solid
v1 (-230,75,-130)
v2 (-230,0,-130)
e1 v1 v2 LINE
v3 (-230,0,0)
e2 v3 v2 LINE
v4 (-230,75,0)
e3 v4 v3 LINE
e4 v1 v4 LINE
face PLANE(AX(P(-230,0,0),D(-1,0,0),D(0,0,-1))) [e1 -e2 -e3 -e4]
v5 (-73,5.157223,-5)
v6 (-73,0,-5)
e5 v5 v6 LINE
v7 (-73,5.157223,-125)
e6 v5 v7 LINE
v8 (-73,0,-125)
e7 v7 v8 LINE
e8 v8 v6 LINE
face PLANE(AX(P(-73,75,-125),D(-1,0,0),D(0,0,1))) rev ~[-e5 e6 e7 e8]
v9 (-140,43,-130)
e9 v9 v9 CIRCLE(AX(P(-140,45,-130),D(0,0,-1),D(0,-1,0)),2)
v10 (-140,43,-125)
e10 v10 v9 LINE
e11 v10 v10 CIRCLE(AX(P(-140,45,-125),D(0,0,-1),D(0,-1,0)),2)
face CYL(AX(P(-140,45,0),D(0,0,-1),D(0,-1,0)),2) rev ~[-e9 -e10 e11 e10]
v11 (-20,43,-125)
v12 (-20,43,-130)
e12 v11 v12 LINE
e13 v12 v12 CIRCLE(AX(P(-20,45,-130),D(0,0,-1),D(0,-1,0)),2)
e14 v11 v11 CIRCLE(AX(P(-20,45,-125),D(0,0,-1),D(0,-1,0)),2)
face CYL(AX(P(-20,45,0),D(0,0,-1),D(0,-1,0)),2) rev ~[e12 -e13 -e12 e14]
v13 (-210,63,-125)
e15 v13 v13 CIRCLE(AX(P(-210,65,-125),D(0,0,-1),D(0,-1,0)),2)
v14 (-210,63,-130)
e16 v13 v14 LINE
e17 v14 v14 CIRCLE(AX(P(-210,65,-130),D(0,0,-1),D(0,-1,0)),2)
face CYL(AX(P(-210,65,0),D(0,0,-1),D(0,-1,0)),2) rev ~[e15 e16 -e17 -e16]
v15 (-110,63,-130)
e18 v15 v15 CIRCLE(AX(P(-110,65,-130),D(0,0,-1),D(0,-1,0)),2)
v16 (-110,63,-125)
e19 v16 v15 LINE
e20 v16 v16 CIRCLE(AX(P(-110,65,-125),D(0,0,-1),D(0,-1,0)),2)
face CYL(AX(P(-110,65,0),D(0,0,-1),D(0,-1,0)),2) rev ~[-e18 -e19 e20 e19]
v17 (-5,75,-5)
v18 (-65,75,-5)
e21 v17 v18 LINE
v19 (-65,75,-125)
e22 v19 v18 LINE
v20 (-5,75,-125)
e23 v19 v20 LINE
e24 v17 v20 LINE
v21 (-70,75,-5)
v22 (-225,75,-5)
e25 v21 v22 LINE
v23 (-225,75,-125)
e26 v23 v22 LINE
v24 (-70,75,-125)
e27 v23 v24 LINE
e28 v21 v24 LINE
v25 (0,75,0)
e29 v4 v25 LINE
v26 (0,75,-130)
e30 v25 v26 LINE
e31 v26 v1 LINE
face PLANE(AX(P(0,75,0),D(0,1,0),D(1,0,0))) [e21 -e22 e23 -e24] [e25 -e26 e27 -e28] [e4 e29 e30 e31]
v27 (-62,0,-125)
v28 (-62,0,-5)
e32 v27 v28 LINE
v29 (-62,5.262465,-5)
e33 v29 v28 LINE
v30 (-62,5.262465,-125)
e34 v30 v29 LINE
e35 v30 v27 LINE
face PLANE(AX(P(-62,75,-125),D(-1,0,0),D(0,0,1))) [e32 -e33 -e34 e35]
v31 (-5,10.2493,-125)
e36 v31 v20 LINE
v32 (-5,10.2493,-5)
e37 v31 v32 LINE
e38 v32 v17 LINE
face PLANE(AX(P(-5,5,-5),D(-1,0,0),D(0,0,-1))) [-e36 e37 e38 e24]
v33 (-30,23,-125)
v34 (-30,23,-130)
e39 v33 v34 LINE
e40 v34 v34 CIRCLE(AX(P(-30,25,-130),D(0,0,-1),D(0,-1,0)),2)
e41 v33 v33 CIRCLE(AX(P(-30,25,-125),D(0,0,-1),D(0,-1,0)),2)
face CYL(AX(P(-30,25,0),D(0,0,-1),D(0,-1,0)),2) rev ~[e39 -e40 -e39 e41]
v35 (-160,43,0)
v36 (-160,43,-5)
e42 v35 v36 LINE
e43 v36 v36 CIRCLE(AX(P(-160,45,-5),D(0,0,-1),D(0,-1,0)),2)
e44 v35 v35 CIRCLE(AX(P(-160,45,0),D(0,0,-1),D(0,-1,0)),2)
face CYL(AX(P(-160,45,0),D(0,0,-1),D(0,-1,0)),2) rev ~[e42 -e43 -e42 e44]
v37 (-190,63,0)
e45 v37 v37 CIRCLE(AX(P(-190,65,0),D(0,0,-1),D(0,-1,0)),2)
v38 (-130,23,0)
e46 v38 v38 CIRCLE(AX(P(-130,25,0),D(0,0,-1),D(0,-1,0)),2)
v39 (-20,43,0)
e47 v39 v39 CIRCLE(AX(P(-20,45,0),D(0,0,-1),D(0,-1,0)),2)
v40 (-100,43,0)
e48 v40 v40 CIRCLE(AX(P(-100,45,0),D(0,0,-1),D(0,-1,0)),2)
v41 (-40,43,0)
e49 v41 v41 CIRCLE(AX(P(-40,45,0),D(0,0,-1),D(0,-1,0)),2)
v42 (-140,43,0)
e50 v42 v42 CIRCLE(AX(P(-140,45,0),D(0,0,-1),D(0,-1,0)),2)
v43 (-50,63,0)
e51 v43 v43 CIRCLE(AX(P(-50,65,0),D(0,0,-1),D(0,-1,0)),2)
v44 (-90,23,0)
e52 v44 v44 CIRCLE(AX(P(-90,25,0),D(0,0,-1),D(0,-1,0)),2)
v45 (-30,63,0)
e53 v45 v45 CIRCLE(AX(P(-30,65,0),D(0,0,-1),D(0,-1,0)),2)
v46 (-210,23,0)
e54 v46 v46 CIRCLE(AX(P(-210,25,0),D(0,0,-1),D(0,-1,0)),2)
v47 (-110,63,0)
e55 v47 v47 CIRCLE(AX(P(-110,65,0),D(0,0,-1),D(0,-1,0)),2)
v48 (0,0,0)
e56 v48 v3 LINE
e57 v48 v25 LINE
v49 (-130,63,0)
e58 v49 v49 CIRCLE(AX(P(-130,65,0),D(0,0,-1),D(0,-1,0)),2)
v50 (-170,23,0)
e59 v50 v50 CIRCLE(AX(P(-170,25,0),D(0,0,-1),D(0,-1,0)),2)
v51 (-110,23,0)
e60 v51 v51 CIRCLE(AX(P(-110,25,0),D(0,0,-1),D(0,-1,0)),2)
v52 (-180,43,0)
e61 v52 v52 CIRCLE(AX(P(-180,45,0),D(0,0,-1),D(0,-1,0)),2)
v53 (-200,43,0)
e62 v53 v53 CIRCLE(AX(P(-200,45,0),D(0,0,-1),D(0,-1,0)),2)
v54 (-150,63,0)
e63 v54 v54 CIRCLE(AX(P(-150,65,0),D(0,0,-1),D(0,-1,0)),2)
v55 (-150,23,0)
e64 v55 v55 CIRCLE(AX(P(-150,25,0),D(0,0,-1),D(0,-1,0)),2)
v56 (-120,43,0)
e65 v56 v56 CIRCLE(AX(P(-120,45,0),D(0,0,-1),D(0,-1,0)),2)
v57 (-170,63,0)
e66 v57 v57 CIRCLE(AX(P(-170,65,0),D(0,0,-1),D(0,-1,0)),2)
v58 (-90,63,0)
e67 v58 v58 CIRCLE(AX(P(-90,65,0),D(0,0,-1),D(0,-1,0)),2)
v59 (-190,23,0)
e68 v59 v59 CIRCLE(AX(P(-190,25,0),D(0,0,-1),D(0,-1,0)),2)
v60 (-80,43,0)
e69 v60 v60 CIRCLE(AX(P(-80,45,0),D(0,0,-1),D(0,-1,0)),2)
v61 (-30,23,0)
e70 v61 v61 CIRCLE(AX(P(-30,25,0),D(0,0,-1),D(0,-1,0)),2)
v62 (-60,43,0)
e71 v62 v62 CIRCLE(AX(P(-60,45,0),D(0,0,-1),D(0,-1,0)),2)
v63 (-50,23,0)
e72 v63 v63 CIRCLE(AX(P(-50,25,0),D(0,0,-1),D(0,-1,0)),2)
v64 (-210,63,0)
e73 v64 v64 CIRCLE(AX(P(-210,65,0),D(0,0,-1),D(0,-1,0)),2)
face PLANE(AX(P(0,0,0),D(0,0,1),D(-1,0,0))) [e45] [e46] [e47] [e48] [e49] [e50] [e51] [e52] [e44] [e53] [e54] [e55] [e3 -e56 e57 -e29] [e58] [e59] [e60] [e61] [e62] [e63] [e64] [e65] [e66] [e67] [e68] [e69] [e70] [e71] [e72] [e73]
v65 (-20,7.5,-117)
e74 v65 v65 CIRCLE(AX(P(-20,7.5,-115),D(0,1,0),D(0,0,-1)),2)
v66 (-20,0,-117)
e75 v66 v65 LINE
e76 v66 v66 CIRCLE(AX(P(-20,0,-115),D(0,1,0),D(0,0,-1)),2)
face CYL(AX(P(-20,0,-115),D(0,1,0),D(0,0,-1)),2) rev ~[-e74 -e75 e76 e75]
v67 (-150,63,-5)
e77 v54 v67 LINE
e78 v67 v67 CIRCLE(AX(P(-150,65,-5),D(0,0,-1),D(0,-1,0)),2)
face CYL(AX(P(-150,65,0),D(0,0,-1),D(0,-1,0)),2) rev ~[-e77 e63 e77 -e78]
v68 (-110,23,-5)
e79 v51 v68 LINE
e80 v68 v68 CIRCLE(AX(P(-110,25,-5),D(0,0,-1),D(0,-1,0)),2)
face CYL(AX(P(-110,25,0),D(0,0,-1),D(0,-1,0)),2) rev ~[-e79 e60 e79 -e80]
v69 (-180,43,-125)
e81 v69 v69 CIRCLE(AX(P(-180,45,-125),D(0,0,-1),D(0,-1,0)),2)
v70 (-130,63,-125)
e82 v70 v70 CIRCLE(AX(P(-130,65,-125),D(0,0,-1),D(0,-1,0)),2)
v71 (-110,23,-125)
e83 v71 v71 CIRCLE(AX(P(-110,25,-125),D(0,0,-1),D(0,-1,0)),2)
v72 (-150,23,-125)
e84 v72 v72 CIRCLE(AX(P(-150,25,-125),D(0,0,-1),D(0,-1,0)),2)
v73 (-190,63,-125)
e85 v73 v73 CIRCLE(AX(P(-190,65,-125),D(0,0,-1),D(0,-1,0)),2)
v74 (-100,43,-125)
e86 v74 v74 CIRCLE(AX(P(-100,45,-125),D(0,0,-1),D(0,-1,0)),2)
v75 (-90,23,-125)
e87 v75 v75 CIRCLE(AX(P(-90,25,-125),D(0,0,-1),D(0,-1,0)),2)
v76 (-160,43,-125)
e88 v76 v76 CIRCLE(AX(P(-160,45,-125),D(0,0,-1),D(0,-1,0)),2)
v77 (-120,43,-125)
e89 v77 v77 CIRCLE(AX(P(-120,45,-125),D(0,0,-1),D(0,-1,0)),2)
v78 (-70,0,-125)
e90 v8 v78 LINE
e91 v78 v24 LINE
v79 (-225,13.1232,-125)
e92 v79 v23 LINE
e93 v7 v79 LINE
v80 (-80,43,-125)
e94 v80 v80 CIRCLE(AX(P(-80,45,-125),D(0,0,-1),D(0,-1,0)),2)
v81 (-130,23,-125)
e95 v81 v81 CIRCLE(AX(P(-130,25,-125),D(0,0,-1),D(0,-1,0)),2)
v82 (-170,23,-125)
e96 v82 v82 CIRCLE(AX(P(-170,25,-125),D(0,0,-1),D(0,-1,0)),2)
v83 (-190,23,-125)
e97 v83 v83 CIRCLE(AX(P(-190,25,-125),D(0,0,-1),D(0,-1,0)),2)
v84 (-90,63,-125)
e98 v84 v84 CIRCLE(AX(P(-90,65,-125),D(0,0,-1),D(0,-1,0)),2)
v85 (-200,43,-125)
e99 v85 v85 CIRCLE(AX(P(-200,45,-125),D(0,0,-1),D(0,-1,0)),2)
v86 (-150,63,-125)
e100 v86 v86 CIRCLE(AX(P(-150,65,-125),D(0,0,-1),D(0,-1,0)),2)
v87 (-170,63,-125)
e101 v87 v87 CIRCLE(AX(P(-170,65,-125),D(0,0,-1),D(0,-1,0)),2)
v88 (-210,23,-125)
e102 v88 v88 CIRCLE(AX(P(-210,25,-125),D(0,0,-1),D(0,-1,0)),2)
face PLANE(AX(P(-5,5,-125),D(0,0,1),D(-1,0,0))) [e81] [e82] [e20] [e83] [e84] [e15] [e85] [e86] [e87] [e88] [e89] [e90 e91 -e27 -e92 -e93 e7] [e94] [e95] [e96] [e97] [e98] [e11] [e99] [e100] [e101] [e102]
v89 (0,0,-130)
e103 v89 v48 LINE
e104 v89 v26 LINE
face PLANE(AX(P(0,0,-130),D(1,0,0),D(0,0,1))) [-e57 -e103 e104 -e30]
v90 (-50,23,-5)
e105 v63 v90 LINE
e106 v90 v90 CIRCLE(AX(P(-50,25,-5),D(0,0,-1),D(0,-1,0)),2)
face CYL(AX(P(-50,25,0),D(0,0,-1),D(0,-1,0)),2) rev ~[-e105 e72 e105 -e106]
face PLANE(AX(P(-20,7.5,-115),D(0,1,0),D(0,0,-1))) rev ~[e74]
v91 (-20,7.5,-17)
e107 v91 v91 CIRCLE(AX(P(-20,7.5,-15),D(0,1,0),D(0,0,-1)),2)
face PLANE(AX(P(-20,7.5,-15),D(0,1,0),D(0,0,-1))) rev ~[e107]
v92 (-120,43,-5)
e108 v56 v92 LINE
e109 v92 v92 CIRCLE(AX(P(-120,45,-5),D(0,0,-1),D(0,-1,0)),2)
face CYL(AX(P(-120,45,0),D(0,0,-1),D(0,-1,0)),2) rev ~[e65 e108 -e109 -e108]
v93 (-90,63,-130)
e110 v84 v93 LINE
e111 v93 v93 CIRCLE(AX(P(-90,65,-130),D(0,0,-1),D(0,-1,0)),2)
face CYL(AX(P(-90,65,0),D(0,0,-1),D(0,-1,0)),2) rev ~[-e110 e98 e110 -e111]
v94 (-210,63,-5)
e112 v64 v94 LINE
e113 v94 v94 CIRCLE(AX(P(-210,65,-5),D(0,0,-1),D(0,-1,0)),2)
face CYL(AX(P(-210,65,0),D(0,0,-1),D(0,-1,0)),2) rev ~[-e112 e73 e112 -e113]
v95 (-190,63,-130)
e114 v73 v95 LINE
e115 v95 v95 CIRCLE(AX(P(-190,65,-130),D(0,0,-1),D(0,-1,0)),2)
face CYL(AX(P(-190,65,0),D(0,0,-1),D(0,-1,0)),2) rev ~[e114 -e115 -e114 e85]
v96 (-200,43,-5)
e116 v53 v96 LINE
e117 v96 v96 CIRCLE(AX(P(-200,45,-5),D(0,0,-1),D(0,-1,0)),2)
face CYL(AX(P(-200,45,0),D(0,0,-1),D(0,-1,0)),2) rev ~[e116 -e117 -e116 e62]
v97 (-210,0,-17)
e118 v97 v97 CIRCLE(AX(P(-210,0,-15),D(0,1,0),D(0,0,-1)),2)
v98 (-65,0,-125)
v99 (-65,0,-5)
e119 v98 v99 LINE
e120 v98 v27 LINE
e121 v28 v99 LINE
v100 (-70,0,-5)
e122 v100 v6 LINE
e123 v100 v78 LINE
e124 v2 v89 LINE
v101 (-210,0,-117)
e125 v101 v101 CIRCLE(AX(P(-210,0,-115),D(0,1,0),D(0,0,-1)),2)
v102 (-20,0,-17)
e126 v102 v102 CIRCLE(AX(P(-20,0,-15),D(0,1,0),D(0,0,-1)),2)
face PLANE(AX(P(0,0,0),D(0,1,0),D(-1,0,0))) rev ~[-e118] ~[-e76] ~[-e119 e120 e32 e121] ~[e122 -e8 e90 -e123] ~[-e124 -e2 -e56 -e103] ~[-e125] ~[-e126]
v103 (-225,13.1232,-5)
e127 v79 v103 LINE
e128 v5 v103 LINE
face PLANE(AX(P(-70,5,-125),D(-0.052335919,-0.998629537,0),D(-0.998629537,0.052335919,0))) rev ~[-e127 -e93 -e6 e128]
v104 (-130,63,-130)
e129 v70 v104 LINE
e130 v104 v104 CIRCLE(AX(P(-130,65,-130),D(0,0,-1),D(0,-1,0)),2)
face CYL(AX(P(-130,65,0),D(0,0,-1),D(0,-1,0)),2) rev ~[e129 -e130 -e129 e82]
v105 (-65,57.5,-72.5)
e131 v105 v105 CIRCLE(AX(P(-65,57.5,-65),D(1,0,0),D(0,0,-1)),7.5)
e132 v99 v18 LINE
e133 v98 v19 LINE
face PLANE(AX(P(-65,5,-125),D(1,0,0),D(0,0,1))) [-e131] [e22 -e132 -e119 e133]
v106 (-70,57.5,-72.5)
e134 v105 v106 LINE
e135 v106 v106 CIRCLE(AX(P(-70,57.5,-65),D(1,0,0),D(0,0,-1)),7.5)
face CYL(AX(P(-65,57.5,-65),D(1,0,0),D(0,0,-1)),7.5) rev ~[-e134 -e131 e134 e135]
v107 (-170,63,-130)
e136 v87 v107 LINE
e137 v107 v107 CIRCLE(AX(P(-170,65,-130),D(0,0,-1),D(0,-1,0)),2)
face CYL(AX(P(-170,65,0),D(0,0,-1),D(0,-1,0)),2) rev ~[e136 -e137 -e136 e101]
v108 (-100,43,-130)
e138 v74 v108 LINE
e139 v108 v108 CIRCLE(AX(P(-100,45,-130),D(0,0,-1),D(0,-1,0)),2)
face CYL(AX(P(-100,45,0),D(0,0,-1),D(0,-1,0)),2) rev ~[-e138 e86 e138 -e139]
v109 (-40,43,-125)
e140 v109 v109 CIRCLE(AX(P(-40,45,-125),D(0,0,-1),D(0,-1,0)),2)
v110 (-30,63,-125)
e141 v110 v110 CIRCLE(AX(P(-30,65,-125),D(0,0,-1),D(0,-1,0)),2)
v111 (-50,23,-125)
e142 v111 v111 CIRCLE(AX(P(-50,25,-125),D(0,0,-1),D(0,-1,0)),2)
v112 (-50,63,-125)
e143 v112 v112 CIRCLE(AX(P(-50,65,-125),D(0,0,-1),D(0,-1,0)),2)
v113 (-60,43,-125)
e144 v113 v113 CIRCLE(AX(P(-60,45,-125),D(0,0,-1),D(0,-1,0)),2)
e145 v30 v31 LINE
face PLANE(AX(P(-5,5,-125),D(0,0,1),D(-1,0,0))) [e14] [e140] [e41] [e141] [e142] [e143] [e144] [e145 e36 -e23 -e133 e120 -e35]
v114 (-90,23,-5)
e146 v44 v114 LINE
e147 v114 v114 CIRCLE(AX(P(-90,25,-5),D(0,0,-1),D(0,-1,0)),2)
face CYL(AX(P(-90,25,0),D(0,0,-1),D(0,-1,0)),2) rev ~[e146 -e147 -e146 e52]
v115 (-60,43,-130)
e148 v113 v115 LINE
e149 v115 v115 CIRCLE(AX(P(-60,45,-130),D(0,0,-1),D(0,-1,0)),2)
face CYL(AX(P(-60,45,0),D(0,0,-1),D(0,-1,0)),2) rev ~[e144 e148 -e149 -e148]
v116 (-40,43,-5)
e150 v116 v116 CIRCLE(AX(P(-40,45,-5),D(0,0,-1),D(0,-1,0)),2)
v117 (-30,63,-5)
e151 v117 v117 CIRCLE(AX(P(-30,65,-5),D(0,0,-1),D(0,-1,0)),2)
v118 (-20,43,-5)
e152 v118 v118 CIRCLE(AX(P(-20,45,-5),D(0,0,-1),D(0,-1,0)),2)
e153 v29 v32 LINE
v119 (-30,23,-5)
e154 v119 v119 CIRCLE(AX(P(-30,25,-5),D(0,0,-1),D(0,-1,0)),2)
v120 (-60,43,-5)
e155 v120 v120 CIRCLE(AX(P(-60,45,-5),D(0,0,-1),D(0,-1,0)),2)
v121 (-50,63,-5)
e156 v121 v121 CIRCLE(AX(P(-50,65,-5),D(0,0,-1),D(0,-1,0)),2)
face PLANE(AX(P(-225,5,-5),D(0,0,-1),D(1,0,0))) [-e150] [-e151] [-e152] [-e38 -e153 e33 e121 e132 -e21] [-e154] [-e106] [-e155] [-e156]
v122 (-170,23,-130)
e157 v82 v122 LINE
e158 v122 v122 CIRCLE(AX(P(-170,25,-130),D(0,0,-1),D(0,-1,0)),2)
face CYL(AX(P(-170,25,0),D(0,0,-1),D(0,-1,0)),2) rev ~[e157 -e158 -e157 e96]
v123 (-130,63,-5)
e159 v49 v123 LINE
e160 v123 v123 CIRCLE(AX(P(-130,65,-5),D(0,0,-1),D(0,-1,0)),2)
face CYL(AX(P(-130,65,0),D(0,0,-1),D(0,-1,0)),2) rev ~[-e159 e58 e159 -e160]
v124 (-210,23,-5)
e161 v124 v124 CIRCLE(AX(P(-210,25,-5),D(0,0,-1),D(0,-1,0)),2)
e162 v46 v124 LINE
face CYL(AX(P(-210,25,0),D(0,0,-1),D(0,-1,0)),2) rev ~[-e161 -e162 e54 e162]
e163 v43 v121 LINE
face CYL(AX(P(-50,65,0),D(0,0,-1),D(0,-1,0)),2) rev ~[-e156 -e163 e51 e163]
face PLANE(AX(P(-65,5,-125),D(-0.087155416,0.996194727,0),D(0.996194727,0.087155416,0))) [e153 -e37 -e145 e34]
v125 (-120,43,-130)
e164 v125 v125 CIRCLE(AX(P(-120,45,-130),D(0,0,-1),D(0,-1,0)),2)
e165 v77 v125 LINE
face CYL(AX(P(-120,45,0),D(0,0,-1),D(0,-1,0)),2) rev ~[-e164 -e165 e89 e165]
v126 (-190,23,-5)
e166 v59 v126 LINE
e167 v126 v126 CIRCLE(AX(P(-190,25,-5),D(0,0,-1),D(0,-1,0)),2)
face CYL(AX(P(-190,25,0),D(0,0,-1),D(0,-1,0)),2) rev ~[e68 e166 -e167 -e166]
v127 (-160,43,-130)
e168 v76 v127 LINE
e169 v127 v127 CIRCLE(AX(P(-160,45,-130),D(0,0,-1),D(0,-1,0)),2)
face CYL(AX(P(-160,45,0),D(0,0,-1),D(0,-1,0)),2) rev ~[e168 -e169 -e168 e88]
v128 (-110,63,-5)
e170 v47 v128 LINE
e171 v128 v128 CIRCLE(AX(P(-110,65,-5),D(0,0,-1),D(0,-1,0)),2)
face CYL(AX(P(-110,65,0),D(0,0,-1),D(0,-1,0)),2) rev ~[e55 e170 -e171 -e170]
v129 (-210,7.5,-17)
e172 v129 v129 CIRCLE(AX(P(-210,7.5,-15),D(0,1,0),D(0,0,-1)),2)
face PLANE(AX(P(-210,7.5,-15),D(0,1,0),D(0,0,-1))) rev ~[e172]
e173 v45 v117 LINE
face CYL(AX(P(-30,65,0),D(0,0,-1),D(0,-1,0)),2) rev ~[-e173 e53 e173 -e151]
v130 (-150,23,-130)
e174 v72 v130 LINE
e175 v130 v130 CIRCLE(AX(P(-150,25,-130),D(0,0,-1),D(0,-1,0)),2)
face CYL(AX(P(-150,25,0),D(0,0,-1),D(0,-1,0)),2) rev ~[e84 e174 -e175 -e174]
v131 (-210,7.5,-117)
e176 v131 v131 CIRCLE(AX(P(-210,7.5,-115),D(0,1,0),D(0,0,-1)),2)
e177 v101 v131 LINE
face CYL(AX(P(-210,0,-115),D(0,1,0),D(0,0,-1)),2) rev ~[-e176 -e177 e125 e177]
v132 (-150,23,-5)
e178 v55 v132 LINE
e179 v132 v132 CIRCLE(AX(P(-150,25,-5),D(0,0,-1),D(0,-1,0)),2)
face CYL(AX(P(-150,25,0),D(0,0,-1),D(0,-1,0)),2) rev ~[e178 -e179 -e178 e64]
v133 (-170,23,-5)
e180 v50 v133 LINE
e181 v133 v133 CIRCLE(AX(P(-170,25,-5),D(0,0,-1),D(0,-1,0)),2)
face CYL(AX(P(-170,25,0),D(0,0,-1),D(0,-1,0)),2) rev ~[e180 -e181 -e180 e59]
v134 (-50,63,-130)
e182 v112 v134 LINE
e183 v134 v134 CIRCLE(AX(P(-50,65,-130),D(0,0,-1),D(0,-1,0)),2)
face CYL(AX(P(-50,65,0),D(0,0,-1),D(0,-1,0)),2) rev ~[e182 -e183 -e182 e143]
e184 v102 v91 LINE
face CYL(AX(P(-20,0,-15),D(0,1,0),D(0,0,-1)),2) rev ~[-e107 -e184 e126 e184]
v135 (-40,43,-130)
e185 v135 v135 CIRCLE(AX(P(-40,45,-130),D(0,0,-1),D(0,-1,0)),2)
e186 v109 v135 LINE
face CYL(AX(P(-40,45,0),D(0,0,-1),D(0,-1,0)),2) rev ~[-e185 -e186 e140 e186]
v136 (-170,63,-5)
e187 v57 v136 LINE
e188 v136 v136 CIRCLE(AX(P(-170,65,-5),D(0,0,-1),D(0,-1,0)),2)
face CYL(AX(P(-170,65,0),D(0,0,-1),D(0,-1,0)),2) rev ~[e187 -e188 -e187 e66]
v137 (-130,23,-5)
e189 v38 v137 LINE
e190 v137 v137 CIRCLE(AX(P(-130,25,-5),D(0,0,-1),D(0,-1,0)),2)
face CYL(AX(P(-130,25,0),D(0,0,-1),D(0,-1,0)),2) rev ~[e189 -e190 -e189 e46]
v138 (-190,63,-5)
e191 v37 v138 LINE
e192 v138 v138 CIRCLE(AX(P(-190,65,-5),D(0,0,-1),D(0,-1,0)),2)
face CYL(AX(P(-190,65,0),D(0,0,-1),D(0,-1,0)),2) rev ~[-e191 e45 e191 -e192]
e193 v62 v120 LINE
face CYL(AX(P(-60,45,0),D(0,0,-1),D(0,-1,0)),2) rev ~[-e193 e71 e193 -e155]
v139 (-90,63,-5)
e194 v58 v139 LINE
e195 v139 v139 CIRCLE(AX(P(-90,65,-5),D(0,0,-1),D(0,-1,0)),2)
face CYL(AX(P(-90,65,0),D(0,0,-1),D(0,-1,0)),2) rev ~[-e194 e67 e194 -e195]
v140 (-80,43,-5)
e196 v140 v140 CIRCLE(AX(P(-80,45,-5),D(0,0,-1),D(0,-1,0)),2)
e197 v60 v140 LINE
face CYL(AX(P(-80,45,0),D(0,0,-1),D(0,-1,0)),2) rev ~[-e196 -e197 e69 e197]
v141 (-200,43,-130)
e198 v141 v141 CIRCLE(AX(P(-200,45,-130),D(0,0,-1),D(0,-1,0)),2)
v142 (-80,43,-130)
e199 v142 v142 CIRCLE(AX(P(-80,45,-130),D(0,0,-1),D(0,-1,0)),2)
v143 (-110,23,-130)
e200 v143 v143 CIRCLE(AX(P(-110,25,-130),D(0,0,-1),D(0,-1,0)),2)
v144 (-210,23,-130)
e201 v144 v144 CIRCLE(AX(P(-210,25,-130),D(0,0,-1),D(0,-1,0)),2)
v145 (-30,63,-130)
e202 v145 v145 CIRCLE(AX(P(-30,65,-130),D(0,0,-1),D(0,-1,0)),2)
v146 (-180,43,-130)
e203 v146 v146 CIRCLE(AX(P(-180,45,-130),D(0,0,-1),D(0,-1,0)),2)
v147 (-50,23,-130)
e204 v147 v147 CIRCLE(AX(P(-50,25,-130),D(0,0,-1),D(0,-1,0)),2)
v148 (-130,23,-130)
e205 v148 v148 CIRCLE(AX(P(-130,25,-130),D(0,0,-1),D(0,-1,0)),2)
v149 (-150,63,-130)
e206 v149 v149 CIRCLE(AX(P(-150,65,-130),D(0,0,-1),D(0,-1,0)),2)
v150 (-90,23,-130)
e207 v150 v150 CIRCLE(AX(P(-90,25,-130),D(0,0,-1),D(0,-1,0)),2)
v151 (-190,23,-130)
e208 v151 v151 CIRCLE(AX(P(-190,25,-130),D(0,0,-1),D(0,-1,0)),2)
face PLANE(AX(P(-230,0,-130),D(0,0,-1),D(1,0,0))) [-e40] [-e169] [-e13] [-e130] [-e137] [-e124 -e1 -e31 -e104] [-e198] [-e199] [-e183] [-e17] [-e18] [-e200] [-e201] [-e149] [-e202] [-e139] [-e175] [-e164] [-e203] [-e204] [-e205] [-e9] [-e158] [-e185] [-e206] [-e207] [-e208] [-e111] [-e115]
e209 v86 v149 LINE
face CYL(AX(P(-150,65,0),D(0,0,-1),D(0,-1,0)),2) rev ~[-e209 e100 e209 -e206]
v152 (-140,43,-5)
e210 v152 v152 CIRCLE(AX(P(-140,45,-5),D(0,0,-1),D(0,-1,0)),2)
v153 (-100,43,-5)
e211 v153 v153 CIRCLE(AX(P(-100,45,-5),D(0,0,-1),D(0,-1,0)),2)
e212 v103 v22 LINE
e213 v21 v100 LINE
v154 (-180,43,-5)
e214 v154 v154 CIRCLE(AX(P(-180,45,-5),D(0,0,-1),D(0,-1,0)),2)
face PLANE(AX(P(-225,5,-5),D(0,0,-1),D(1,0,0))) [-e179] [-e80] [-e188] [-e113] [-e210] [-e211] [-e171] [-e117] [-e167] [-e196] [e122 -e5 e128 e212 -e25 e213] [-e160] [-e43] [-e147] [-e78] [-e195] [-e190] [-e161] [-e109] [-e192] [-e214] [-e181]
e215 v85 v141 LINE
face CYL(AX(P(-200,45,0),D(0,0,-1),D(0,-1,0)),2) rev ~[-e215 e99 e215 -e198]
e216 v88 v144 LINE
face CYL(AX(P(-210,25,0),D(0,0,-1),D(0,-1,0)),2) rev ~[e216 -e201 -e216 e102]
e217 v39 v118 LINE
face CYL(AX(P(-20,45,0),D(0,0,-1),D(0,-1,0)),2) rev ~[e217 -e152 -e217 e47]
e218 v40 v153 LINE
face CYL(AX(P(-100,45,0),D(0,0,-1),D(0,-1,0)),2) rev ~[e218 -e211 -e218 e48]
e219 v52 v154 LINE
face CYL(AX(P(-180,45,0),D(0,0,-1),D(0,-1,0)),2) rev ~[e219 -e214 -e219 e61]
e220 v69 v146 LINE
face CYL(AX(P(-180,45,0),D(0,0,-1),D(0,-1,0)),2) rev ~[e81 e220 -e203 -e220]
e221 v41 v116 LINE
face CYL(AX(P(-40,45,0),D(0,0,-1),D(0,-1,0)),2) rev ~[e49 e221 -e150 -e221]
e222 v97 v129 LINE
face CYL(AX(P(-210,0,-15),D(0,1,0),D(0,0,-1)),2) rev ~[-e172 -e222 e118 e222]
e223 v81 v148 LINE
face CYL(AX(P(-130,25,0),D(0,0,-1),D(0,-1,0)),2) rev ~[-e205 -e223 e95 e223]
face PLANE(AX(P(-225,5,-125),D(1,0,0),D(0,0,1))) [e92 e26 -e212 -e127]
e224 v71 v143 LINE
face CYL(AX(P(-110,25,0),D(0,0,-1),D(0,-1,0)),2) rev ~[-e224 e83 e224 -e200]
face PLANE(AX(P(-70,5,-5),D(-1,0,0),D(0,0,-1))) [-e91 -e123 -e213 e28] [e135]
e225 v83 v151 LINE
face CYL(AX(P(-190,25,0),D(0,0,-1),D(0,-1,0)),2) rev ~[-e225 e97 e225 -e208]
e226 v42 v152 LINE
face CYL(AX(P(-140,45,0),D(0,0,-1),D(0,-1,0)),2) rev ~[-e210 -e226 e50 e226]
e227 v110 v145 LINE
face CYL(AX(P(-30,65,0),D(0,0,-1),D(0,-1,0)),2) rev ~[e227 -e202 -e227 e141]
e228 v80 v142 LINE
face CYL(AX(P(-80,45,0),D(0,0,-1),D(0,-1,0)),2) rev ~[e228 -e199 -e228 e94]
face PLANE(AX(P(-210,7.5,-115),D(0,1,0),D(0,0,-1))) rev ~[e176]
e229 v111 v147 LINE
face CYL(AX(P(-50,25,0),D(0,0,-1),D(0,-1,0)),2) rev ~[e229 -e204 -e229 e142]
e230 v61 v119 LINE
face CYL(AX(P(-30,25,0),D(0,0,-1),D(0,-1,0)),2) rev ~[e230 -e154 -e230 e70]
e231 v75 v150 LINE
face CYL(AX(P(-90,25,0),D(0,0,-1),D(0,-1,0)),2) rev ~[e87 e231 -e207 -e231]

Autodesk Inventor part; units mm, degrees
ref_plane "YZ Plane" through (0, 0, 0) normal (1, 0, 0) x (0, 1, 0)
ref_plane "XZ Plane" through (0, 0, 0) normal (0, 1, 0) x (-1, 0, 0)
ref_plane "XY Plane" through (0, 0, 0) normal (0, 0, 1) x (1, 0, 0)
sketch "Sketch1" plane through (0, 0, 0) normal (0, 1, 0) x (-1, 0, 0)
  line L0 (0, 0) -> (230, 0)
  line L1 (230, 0) -> (230, -130)
  line L2 (230, -130) -> (0, -130)
  line L3 (0, -130) -> (0, 0)
  dimension "d0" = 130
  dimension "d1" = 230
extrude "Extrusion1" add sketch "Sketch1" along normal blind 5
sketch "Sketch2" plane through (0, 5, 0) normal (0, 1, 0) x (1, 0, 0)
  line L0 (-230, 130) -> (-230, 0) projected
  line L1 (0, 0) -> (0, 130) projected
  line L2 (-230, 0) -> (0, 0)
  line L3 (0, 0) -> (0, 130)
  line L4 (0, 130) -> (-230, 130)
  line L5 (-230, 130) -> (-230, 0)
  line L6 (-225, 5) -> (-5, 5)
  line L7 (-5, 5) -> (-5, 125)
  line L8 (-5, 125) -> (-225, 125)
  line L9 (-225, 125) -> (-225, 5)
  dimension "d4" = 5
  dimension "d6" = 5
  dimension "d7" = 5
  dimension "d8" = 5
extrude "Extrusion2" add sketch "Sketch2" along normal blind 70
sketch "Sketch3" plane through (0, 5, 0) normal (0, 1, 0) x (1, 0, 0)
  line L0 (-225, 5) -> (-5, 5) projected
  line L1 (-5, 125) -> (-225, 125) projected
  line L2 (-65, 5) -> (-70, 5)
  line L3 (-70, 5) -> (-70, 125)
  line L4 (-70, 125) -> (-65, 125)
  line L5 (-65, 125) -> (-65, 5)
  line L6 (-5, 125) -> (-5, 5) projected
  point P0 (0, 0)
  dimension "d11" = 5
  dimension "d12" = 60
extrude "Extrusion3" add sketch "Sketch3" along normal up to surface (70 mm away) contours L3 L1 L5 L0
sketch "Sketch4" plane through (-65, 5, -5) normal (1, 0, 0) x (0, 0, -1)
  circle A0 centre (60, 52.5) radius 7.5
  line L0 (120, 70) -> (0, 70) projected
  point P0 (-5, -5)
  point P1 (60, 70)
  point P2 (60, 70)
  point P3 (60, 70)
  dimension "d15" = 15
  dimension "d16" = 17.5
extrude "Extrusion4" cut sketch "Sketch4" against normal up to surface (5 mm away)
sketch "Sketch6" plane through (-225, 5, -125) normal (0, 0, 1) x (1, 0, 0)
  line L0 (155, 0) -> (0, 0) projected
  line L1 (0, 0) -> (155, 0)
  line L2 (155, 0) -> (0, 8.1232)
  line L3 (0, 0) -> (0, 70) projected
  line L4 (0, 8.1232) -> (0, 0)
  line L5 (160, 0) -> (220, 5.2493)
  line L6 (220, 0) -> (220, 70) projected
  line L7 (220, 5.2493) -> (220, 0)
  line L8 (220, 0) -> (160, 0)
  point P0 (225, -5)
  dimension "d38" = 5
  dimension "d39" = 3
extrude "Extrusion5" add sketch "Sketch6" along normal up to surface (120 mm away)
sketch "Sketch7" plane through (0, 75, 0) normal (0, 1, 0) x (1, 0, 0)
  line L0 (-225, 125) -> (-70, 125) projected
  line L1 (-70, 5) -> (-225, 5) projected
  line L2 (-70, 125) -> (-73, 125)
  line L3 (-73, 125) -> (-73, 5)
  line L4 (-73, 5) -> (-70, 5)
  line L5 (-70, 5) -> (-70, 125)
  line L6 (-65, 125) -> (-65, 5) projected
  line L7 (-65, 125) -> (-62, 125)
  line L8 (-62, 125) -> (-62, 5)
  line L9 (-62, 5) -> (-65, 5)
  line L10 (-65, 5) -> (-65, 125)
  point P0 (0, 0)
  point P1 (-71.5, 5)
  point P2 (-63.5, 5)
  dimension "d42" = 3
  dimension "d43" = 3
extrude "Extrusion6" cut sketch "Sketch7" against normal through all
sketch "Sketch8" plane through (0, 0, 0) normal (0, -1, 0) x (1, 0, 0)
  line L0 (-230, -130) -> (0, -130) projected
  line L1 (-230, 0) -> (-230, -130) projected
  line L2 (-230, -130) -> (-230, 0) projected
  line L3 (-230, -65) -> (0, -65)
  line L4 (0, -130) -> (0, 0) projected
  line L5 (-115, -130) -> (-115, 0)
  point P0 (-210, -115)
  point P1 (-210, -15)
  point P2 (-20, -115)
  point P3 (-20, -15)
  dimension "d46" = 15
  dimension "d47" = 20
hole "Hole2" at (-210, 0, -115) at (-210, 0, -15) at (-20, 0, -15) at (-20, 0, -115) direction (0, 1, 0) diameter 4 depth 7.5
sketch "Sketch9" plane through (-230, 0, 0) normal (0, 0, 1) x (1, 0, 0)
  line L0 (20, 65) -> (233.5105, 65)
  line L1 (20, 45) -> (233.5105, 45)
  line L2 (234.6135, 25) -> (20, 25)
  line L3 (0, 75) -> (230, 75) projected
  line L4 (0, 0) -> (0, 75) projected
  point P0 (230, 0)
  point P1 (30, 45)
  point P2 (40, 65)
  point P3 (50, 45)
  point P4 (40, 25)
  point P5 (60, 65)
  point P6 (70, 45)
  point P7 (60, 25)
  point P8 (80, 65)
  point P9 (90, 45)
  point P10 (80, 25)
  point P11 (100, 65)
  point P12 (110, 45)
  point P13 (100, 25)
  point P14 (120, 65)
  point P15 (130, 45)
  point P16 (120, 25)
  point P17 (140, 65)
  point P18 (150, 45)
  point P19 (140, 25)
  point P20 (170, 45)
  point P21 (180, 65)
  point P22 (190, 45)
  point P23 (180, 25)
  point P24 (200, 65)
  point P25 (210, 45)
  point P26 (200, 25)
  dimension "d55" = 20
  dimension "d56" = 20
  dimension "d57" = 10
  dimension "d58" = 20
  dimension "d59" = 10
  dimension "d62" = 20
hole "Hole3" at (-210, 65, 0) at (-200, 45, 0) at (-210, 25, 0) at (-190, 65, 0) at (-180, 45, 0) at (-190, 25, 0) at (-170, 65, 0) at (-160, 45, 0) at (-170, 25, 0) at (-150, 65, 0) at (-140, 45, 0) at (-150, 25, 0) at (-130, 65, 0) at (-120, 45, 0) at (-130, 25, 0) at (-110, 65, 0) at (-100, 45, 0) at (-110, 25, 0) at (-90, 65, 0) at (-80, 45, 0) at (-90, 25, 0) at (-50, 65, 0) at (-40, 45, 0) at (-50, 25, 0) at (-30, 65, 0) at (-20, 45, 0) at (-30, 25, 0) at (-60, 45, 0) direction (0, 0, -1) diameter 4 end through all
equation "\"d4\" = d8"
equation "\"d6\" = d7"
equation "\"d7\" = d8"
equation "\"d43\" = d42"
properties part number "bottomA"
